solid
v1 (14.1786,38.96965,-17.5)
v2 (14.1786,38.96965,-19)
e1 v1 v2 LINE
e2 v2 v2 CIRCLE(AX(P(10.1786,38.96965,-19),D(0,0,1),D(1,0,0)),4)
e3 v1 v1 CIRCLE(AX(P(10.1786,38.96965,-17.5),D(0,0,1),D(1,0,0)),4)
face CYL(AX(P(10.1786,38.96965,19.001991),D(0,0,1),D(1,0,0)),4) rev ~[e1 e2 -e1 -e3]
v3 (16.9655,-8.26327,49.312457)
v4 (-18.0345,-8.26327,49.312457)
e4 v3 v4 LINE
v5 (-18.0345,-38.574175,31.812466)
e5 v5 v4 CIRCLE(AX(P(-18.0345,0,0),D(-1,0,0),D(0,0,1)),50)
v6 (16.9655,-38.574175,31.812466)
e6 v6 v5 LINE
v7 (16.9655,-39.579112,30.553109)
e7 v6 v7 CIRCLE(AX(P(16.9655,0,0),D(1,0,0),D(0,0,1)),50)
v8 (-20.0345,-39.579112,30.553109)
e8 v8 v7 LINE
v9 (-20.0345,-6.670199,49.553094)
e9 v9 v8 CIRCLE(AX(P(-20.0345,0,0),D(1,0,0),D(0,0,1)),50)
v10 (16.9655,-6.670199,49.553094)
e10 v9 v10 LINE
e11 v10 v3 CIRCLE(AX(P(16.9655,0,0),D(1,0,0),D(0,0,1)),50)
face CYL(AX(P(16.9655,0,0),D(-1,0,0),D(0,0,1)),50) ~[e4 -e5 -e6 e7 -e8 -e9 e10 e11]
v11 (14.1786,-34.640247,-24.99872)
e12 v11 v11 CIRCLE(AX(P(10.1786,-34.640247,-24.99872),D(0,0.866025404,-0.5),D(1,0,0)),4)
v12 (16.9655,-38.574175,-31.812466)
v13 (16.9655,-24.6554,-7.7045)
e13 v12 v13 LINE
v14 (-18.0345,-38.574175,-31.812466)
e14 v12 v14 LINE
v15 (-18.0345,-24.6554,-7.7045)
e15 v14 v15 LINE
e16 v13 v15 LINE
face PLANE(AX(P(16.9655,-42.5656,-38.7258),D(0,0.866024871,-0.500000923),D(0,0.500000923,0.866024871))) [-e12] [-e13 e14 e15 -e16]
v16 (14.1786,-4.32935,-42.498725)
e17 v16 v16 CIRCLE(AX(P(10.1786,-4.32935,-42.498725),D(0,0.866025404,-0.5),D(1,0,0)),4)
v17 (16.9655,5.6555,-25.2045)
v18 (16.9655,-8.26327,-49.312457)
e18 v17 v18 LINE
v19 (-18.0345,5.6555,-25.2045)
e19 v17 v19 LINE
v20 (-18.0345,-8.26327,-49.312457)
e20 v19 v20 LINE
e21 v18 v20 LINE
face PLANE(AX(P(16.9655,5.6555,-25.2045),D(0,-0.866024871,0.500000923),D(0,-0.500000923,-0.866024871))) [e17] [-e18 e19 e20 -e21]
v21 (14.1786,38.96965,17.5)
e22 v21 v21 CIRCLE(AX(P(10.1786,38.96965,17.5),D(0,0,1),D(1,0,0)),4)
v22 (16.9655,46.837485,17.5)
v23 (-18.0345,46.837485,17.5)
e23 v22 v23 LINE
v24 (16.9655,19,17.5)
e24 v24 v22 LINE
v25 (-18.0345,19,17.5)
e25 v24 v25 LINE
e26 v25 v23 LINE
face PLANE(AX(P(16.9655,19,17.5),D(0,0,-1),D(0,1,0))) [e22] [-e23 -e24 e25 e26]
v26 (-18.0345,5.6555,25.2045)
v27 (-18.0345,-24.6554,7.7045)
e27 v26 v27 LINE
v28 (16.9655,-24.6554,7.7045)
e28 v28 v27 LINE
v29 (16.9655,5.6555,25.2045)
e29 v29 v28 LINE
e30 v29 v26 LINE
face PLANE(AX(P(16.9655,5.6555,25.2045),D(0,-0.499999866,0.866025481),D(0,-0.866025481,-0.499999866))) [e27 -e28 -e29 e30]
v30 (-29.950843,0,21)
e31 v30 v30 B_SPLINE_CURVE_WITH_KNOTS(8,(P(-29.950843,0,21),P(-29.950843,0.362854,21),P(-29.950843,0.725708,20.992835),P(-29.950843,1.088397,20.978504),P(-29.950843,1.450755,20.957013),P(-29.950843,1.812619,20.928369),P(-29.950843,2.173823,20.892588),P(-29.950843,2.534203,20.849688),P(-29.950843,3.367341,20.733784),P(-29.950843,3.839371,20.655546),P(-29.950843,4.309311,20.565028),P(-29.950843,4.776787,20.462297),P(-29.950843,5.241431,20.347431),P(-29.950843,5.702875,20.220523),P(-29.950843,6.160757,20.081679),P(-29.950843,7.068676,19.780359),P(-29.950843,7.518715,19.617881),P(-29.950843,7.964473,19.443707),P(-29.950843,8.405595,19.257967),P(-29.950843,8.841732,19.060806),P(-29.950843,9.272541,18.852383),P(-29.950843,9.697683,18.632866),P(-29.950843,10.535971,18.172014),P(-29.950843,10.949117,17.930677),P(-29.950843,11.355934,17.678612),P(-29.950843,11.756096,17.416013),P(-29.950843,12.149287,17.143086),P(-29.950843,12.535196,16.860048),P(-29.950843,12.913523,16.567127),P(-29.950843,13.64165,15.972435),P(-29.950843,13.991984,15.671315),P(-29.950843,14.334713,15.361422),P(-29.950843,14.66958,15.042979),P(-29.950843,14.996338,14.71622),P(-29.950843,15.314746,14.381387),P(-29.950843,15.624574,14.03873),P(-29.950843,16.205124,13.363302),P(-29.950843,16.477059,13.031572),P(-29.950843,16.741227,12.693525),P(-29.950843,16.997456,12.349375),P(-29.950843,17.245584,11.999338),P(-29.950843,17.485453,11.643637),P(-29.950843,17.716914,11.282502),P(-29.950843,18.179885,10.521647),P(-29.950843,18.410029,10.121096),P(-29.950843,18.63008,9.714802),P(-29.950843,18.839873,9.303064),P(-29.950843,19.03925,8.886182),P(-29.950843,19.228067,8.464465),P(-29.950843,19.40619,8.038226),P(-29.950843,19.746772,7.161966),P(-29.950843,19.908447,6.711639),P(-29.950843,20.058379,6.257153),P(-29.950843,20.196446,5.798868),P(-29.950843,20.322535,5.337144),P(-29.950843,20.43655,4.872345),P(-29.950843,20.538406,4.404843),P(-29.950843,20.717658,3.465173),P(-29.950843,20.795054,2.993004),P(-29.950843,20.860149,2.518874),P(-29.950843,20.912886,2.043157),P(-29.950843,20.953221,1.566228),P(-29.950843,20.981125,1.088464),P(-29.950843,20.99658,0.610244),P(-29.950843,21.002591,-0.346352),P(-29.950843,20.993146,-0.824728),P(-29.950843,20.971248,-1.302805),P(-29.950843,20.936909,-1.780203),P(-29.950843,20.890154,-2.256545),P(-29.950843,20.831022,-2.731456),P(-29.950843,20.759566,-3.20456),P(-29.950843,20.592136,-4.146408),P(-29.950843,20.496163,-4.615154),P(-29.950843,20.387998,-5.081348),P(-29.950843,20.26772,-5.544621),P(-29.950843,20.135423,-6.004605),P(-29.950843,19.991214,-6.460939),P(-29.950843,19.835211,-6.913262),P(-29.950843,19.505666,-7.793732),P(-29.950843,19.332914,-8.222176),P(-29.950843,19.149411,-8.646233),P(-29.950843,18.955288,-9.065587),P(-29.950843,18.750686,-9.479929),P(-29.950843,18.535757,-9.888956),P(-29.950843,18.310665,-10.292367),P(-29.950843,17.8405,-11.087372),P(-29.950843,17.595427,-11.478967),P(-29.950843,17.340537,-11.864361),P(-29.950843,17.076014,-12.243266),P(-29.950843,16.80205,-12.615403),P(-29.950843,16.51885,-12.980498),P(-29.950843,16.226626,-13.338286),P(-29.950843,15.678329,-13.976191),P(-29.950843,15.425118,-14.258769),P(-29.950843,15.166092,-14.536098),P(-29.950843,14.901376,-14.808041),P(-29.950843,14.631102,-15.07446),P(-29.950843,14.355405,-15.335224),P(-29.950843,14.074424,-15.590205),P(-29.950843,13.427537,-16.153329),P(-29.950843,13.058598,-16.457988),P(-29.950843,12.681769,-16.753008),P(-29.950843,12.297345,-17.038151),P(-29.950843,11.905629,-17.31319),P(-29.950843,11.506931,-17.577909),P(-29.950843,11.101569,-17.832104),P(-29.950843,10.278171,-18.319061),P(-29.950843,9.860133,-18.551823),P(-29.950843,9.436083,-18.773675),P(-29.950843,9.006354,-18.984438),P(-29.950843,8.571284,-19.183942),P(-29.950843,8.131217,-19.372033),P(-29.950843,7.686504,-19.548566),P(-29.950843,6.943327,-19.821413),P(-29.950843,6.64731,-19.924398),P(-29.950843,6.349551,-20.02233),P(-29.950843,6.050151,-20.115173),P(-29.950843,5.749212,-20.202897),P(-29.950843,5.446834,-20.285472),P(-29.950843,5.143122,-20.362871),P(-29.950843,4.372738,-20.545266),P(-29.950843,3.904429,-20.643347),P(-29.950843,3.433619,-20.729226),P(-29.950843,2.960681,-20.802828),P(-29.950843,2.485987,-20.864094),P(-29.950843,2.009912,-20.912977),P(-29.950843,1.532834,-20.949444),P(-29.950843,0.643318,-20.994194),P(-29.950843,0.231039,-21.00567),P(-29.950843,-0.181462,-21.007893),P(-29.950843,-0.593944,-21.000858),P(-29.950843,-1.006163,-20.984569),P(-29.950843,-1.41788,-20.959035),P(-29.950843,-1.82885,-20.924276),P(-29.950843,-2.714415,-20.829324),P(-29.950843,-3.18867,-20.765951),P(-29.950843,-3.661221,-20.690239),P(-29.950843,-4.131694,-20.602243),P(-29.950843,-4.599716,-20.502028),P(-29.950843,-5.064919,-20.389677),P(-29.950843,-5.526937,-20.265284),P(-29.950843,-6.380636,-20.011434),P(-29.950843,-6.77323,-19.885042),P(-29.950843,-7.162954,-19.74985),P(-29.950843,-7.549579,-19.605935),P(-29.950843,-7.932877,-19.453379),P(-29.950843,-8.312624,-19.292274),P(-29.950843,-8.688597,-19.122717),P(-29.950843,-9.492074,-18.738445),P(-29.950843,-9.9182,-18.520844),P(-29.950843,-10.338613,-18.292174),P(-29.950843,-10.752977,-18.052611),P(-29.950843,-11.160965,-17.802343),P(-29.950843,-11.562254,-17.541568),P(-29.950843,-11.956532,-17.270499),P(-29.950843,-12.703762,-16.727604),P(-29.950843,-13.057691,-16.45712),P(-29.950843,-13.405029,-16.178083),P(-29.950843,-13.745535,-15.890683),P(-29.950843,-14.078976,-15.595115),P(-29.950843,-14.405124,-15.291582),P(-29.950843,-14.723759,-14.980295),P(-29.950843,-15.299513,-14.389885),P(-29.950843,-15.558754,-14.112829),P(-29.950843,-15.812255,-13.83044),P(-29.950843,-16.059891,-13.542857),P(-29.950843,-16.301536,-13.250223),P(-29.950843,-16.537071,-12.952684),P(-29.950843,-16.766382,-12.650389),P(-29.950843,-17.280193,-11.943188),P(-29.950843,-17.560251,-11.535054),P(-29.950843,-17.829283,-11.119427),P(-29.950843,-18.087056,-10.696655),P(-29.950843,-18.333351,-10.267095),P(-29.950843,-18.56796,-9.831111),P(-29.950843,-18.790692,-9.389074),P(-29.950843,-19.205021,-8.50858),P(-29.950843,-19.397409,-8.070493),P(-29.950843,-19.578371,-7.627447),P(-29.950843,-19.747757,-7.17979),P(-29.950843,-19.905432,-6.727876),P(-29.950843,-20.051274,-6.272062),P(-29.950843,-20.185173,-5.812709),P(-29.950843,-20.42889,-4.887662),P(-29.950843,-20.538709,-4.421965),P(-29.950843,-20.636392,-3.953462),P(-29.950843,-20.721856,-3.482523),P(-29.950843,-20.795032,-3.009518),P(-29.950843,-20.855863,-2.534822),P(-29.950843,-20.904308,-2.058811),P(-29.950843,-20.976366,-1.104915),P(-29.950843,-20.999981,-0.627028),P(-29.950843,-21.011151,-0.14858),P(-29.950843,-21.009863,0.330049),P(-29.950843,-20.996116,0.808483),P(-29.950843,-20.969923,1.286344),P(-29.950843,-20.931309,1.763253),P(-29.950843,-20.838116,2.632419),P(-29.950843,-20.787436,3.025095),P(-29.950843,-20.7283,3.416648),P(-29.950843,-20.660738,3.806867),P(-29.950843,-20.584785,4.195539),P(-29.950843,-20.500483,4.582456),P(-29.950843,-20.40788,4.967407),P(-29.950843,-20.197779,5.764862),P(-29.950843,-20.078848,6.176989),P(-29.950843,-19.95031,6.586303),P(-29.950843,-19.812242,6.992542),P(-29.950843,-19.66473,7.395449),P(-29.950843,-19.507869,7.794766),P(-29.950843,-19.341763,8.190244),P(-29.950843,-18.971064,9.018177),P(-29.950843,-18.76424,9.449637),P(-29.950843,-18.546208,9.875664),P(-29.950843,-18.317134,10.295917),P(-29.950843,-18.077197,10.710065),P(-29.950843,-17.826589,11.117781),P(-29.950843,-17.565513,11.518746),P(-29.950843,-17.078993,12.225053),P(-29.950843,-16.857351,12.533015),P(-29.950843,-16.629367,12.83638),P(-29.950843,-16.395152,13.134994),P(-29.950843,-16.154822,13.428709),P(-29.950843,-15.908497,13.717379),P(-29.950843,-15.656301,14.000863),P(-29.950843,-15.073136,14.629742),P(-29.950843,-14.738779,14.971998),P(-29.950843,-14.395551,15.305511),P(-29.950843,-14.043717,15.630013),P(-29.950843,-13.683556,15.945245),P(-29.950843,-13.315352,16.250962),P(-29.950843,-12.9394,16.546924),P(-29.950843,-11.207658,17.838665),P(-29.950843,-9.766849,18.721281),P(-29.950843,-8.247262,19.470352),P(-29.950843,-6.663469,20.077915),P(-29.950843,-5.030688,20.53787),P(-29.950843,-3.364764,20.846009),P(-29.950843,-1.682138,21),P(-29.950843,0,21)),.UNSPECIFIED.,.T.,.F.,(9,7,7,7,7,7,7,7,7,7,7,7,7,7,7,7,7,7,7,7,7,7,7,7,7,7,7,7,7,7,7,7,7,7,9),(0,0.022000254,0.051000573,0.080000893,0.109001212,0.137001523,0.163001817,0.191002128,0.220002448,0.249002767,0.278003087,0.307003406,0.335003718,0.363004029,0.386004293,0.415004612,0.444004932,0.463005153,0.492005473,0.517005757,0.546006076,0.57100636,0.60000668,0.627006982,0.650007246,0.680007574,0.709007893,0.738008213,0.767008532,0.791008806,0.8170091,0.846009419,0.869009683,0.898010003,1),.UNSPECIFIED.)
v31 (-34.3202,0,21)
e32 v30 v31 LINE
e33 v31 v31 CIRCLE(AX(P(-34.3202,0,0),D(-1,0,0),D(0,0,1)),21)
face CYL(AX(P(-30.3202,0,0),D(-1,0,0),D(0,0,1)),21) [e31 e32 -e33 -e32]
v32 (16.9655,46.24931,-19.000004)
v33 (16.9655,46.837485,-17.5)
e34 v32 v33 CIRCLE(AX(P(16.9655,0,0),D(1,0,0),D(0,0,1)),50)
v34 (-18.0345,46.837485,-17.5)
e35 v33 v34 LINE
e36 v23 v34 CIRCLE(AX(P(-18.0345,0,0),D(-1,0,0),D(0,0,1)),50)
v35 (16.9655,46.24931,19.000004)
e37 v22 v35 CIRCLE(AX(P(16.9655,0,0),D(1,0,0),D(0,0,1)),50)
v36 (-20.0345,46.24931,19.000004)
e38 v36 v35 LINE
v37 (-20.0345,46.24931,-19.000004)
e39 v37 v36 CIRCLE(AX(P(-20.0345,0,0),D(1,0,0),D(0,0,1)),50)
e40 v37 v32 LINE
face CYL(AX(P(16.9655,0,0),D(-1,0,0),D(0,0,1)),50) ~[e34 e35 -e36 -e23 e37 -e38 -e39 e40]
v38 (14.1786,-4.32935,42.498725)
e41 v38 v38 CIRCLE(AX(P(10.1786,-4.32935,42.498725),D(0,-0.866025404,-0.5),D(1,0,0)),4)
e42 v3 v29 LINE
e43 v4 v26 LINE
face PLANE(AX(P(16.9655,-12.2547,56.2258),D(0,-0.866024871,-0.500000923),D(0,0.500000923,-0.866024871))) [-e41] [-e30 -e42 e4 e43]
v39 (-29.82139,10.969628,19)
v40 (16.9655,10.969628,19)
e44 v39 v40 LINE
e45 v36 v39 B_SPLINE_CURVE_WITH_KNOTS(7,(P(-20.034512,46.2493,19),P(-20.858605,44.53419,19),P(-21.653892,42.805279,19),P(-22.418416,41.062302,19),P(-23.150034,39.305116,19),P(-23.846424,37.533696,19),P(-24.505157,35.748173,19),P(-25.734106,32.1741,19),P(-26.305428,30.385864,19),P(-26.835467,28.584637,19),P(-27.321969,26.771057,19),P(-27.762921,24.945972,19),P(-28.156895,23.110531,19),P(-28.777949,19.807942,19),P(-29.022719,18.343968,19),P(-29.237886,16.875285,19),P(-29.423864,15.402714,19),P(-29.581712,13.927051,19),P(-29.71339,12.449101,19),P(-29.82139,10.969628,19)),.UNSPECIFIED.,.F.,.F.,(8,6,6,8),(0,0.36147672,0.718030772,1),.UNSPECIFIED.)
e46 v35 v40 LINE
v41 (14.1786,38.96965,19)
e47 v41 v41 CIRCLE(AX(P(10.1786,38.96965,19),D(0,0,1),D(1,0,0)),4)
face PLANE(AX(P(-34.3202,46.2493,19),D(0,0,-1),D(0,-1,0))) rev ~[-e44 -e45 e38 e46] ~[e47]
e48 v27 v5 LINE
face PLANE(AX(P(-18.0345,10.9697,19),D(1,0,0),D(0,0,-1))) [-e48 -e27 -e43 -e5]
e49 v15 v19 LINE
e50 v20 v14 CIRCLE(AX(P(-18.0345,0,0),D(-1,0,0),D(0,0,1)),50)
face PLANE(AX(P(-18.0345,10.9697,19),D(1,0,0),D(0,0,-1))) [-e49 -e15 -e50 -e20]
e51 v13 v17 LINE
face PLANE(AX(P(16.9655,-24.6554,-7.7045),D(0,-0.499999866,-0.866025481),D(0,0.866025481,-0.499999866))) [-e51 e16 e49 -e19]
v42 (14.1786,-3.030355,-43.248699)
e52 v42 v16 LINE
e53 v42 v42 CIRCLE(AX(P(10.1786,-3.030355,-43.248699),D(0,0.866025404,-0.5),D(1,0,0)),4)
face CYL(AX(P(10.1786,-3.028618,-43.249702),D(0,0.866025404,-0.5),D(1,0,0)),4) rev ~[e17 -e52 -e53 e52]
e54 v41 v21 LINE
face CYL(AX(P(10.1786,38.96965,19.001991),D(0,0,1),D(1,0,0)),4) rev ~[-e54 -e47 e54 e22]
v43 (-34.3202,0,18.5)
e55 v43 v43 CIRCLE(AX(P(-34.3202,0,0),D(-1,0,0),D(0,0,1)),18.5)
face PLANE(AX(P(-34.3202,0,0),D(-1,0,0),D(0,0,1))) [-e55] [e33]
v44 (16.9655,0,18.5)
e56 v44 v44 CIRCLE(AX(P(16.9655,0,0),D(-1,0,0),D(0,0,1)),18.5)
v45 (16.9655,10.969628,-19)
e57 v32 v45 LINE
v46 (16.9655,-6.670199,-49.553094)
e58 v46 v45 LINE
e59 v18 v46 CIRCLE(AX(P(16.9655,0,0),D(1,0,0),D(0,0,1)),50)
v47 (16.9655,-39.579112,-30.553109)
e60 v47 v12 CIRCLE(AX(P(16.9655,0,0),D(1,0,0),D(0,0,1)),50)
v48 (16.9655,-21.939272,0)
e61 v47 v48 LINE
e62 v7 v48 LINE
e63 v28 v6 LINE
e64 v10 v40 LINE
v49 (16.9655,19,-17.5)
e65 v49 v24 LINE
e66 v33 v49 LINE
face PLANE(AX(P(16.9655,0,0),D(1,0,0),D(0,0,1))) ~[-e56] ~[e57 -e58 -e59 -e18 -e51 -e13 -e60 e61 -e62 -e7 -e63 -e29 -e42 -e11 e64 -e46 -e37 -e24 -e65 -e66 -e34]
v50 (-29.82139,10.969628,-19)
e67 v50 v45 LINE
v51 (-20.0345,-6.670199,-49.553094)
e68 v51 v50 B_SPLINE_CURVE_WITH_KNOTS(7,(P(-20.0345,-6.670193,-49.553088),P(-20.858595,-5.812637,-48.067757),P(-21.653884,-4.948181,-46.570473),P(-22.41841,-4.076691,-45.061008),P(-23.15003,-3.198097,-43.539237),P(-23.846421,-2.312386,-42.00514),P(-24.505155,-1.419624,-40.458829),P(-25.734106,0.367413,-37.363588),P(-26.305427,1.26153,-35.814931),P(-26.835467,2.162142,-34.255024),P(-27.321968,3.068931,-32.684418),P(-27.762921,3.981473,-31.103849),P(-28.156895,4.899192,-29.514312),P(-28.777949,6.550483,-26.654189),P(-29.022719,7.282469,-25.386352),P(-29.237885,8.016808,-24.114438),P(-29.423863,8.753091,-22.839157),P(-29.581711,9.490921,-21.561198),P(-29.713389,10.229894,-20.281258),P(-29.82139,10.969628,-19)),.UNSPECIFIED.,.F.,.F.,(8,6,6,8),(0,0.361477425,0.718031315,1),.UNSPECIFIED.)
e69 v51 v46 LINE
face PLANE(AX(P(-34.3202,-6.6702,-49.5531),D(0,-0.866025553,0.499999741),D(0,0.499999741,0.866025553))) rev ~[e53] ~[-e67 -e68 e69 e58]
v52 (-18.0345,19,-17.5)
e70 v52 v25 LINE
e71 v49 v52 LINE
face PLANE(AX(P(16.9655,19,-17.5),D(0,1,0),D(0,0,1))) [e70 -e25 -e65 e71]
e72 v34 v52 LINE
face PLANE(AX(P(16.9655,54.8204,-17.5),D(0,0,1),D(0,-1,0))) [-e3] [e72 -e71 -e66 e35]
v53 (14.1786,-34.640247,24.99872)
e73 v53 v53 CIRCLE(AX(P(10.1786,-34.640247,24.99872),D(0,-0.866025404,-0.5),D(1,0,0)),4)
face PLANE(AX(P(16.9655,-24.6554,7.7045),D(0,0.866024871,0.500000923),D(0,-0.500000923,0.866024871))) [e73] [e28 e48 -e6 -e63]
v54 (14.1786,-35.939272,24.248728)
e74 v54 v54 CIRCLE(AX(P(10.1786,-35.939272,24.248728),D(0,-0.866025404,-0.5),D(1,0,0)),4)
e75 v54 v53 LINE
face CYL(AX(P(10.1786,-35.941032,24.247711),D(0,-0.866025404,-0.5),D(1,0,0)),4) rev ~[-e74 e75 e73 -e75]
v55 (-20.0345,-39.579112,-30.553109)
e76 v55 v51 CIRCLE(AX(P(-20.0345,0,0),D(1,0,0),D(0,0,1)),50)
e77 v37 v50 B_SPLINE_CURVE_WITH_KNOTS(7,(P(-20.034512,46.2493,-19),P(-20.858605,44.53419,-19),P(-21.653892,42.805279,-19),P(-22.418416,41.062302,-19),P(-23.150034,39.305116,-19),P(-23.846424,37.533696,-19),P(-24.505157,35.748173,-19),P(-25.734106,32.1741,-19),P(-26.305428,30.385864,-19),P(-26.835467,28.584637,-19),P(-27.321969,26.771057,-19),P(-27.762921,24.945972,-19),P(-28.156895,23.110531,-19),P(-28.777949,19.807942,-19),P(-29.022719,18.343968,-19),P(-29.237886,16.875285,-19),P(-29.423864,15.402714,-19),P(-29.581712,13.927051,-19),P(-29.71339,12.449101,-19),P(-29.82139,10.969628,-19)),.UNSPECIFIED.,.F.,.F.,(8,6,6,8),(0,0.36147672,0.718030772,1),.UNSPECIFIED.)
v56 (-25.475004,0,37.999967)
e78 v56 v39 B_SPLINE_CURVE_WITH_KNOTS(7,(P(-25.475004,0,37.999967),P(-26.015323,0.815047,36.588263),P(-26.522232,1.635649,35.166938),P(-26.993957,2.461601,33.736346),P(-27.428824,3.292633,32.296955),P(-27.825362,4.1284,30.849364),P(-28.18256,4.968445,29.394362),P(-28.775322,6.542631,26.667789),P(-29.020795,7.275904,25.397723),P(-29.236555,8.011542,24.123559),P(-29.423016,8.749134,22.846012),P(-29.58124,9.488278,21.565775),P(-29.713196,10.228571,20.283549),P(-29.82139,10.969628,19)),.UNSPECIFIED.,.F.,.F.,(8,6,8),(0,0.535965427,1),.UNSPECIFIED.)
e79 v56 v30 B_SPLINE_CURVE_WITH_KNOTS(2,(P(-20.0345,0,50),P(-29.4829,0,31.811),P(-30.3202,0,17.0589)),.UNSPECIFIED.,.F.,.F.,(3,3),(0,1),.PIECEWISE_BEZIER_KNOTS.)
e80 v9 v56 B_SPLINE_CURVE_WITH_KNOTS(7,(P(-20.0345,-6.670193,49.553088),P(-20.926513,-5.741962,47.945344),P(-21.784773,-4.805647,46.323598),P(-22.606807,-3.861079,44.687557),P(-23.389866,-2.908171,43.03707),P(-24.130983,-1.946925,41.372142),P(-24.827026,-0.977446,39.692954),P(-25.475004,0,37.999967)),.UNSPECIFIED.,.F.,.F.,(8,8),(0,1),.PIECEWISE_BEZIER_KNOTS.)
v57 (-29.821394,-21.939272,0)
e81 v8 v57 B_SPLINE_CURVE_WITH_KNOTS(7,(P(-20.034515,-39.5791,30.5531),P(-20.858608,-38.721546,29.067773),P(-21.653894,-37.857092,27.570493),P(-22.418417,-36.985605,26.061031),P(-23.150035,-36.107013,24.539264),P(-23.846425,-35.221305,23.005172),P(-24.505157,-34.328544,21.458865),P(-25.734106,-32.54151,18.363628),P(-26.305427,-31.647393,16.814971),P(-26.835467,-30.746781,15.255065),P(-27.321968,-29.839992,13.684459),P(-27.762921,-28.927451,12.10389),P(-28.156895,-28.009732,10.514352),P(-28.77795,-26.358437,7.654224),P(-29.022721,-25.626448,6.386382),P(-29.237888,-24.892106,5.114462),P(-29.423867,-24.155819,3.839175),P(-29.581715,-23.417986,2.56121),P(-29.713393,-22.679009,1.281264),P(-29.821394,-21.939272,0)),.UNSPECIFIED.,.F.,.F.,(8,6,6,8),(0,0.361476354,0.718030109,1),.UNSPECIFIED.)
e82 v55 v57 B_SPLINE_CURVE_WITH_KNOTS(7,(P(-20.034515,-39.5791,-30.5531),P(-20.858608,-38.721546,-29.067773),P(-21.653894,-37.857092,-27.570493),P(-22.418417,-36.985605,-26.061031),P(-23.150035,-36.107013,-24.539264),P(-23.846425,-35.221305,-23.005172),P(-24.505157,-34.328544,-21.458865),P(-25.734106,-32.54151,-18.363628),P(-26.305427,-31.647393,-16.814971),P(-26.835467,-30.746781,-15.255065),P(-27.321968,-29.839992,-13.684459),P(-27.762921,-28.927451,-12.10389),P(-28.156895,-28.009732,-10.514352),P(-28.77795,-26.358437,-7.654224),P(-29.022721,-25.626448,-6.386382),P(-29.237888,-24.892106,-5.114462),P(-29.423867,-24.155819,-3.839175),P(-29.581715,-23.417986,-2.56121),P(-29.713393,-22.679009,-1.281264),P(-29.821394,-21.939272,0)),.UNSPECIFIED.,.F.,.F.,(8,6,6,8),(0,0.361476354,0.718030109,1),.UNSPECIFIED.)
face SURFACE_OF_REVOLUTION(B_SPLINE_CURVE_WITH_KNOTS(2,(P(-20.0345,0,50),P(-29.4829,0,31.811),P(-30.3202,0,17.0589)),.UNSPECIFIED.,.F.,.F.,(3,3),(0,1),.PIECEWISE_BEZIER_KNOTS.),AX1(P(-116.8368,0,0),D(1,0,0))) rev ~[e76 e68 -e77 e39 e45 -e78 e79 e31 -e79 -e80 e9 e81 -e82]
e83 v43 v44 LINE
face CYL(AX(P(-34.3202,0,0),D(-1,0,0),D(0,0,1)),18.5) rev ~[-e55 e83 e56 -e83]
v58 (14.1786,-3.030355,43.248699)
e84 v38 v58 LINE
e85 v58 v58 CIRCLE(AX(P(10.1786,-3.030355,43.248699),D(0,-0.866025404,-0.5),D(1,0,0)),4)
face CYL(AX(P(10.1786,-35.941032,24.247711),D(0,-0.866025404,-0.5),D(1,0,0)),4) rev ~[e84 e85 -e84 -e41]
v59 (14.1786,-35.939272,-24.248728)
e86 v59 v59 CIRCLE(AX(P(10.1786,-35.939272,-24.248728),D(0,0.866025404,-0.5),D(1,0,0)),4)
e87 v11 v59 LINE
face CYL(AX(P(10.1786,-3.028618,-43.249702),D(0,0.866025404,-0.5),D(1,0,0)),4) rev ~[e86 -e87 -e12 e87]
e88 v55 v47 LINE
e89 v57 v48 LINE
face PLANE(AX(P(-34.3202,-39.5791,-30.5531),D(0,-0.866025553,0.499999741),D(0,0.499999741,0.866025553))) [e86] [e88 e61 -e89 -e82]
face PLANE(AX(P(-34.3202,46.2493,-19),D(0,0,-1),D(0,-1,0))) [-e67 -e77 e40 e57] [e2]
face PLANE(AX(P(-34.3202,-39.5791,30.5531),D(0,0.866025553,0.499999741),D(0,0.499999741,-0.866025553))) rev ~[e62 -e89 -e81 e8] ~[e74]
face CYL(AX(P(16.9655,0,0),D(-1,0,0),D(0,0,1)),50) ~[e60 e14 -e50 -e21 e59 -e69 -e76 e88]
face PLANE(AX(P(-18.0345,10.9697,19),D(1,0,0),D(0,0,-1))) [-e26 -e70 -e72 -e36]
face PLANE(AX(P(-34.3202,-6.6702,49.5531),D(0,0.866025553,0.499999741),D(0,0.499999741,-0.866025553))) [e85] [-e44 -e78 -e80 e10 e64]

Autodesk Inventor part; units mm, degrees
ref_plane "YZ Plane" through (0, 0, 0) normal (1, 0, 0) x (0, 1, 0)
ref_plane "XZ Plane" through (0, 0, 0) normal (0, 1, 0) x (-1, 0, 0)
ref_plane "XY Plane" through (0, 0, 0) normal (0, 0, 1) x (1, 0, 0)
sketch "Boceto1" plane through (0, 0, 0) normal (0, 1, 0) x (-1, 0, 0)
  line L0 (116.8368, 0) -> (-138.9188, 0) construction
  line L1 (0, 201.6217) -> (0, -202.3506) construction
  line L2 (-16.9655, 0) -> (-16.9655, 50)
  line L3 (-16.9655, 50) -> (20.0345, 50)
  spline S0 degree 2 poles (20.0345, 50) (29.4829, 31.811) (30.3202, 17.0589) knots 0 0 0 1 1 1
  line L4 (30.3202, 17.0589) -> (30.3202, 0)
  line L5 (30.3202, 0) -> (-16.9655, 0)
  point P0 (0, 0)
  point P1 (27.7444, 31.3016)
  dimension "d0" = 50
  dimension "d1" = 37
  dimension "d2" = 30.3202
  dimension "d3" = 47.2856
  dimension "d4" = 86.5167
  dimension "d5" = 32.9412
  dimension "d6" = 2.5758
  dimension "d7" = 18.6984
  dimension "d8" = 151.6217
  dimension "d9" = 252.3506
  dimension "d10" = 169.239
revolve "Revolución1" add sketch "Boceto1" angle 360 about axis through (-116.8368, 0, 0) along (1, 0, 0)
sketch "Boceto2" plane through (-30.3202, 0, 0) normal (-1, 0, 0) x (0, 0, 1)
  circle A0 centre (0, 0) radius 17.0589 projected
  circle A1 centre (0, 0) radius 21
  point P0 (17.0589, 0)
  dimension "d12" = 42
extrude "Extrusión1" add sketch "Boceto2" along normal mid plane 8 contours A0 | A1
sketch "Boceto3" plane through (-34.3202, 0, 0) normal (-1, 0, 0) x (0, 0, 1)
  circle A0 centre (0, 0) radius 18.5
  dimension "d15" = 37
extrude "Extrusión2" cut sketch "Boceto3" against normal blind 60
sketch "Boceto4" plane through (-34.3202, 0, 0) normal (-1, 0, 0) x (0, 0, 1)
  circle A0 centre (0, 0) radius 50 projected
  line L0 (-19, 46.2493) -> (-19, 8.9443)
  circle A1 centre (0, 0) radius 21 projected
  line L1 (19, 46.2493) -> (19, 8.9443)
  line L2 (0, 54.3807) -> (0, -24.3097) construction
  line L3 (-65.0318, 0) -> (77.048, 0) construction
  circle A2 centre (0, 0) radius 50 construction
  circle A3 centre (0, 0) radius 21 construction
  line L4 (-30.5531, -39.5791) -> (1.754, -20.9266)
  line L5 (-49.5531, -6.6702) -> (-17.246, 11.9823)
  circle A4 centre (0, 0) radius 21 construction
  circle A5 centre (0, 0) radius 50 construction
  line L6 (49.5531, -6.6702) -> (17.246, 11.9823)
  line L7 (30.5531, -39.5791) -> (-1.754, -20.9266)
  circle A6 centre (0, 0) radius 21 construction
  circle A7 centre (0, 0) radius 50 construction
  point P0 (19, 10.9697)
  point P1 (-19, 10.9697)
  point P2 (0, -21.9393)
  dimension "d18" = 38
  dimension "d21" = 360
extrude "Extrusión3" cut sketch "Boceto4" against normal blind 60 contours A0 L6 L1 | L0 L5 A0 | A0 L4 L7
sketch "Boceto5" plane through (-29.8214, -21.9393, 0) normal (0, -0.866, -0.5) x (1, 0, 0)
  line L0 (0, 35.9798) -> (0, -55.1659) construction
  line L1 (-10.6314, 0) -> (61.9402, 0) construction
  circle A0 centre (40, 28) radius 4
  point P0 (29.8214, -10.9697)
  point P1 (0, 0)
  dimension "d25" = 40
  dimension "d26" = 28
  dimension "d27" = 8
extrude "Extrusión4" cut sketch "Boceto5" against normal blind 60
pattern_circular "Patrón circular1" count 3 over 360 about axis through (-34.3202, 0, 0) along (1, 0, 0) of "Extrusión4"
sketch "Boceto6" plane through (16.9655, 10.9697, 19) normal (1, 0, 0) x (0, 0, -1)
  line L0 (36.5, 8.0303) -> (1.5, 8.0303)
  line L1 (1.5, 8.0303) -> (1.5, 43.8507)
  line L2 (1.5, 43.8507) -> (36.5, 43.8507)
  line L3 (36.5, 43.8507) -> (36.5, 8.0303)
  line L4 (19, 66.8345) -> (19, -59.037) construction
  line L5 (-55.9645, -10.9697) -> (107.3868, -10.9697) construction
  line L6 (-19.7258, -53.5353) -> (-37.2258, -23.2244)
  line L7 (11.2955, -35.6251) -> (-19.7258, -53.5353)
  line L8 (-37.2258, -23.2244) -> (-6.2045, -5.3142)
  line L9 (-6.2045, -5.3142) -> (11.2955, -35.6251)
  line L10 (75.2258, -23.2244) -> (57.7258, -53.5353)
  line L11 (44.2045, -5.3142) -> (75.2258, -23.2244)
  line L12 (57.7258, -53.5353) -> (26.7045, -35.6251)
  line L13 (26.7045, -35.6251) -> (44.2045, -5.3142)
  point P0 (19, -10.9697)
  point P1 (25.7111, -10.9697)
  dimension "d33" = 35
  dimension "d34" = 35.8203
  dimension "d35" = 19
  dimension "d38" = 360
extrude "Extrusión5" cut sketch "Boceto6" against normal blind 35
